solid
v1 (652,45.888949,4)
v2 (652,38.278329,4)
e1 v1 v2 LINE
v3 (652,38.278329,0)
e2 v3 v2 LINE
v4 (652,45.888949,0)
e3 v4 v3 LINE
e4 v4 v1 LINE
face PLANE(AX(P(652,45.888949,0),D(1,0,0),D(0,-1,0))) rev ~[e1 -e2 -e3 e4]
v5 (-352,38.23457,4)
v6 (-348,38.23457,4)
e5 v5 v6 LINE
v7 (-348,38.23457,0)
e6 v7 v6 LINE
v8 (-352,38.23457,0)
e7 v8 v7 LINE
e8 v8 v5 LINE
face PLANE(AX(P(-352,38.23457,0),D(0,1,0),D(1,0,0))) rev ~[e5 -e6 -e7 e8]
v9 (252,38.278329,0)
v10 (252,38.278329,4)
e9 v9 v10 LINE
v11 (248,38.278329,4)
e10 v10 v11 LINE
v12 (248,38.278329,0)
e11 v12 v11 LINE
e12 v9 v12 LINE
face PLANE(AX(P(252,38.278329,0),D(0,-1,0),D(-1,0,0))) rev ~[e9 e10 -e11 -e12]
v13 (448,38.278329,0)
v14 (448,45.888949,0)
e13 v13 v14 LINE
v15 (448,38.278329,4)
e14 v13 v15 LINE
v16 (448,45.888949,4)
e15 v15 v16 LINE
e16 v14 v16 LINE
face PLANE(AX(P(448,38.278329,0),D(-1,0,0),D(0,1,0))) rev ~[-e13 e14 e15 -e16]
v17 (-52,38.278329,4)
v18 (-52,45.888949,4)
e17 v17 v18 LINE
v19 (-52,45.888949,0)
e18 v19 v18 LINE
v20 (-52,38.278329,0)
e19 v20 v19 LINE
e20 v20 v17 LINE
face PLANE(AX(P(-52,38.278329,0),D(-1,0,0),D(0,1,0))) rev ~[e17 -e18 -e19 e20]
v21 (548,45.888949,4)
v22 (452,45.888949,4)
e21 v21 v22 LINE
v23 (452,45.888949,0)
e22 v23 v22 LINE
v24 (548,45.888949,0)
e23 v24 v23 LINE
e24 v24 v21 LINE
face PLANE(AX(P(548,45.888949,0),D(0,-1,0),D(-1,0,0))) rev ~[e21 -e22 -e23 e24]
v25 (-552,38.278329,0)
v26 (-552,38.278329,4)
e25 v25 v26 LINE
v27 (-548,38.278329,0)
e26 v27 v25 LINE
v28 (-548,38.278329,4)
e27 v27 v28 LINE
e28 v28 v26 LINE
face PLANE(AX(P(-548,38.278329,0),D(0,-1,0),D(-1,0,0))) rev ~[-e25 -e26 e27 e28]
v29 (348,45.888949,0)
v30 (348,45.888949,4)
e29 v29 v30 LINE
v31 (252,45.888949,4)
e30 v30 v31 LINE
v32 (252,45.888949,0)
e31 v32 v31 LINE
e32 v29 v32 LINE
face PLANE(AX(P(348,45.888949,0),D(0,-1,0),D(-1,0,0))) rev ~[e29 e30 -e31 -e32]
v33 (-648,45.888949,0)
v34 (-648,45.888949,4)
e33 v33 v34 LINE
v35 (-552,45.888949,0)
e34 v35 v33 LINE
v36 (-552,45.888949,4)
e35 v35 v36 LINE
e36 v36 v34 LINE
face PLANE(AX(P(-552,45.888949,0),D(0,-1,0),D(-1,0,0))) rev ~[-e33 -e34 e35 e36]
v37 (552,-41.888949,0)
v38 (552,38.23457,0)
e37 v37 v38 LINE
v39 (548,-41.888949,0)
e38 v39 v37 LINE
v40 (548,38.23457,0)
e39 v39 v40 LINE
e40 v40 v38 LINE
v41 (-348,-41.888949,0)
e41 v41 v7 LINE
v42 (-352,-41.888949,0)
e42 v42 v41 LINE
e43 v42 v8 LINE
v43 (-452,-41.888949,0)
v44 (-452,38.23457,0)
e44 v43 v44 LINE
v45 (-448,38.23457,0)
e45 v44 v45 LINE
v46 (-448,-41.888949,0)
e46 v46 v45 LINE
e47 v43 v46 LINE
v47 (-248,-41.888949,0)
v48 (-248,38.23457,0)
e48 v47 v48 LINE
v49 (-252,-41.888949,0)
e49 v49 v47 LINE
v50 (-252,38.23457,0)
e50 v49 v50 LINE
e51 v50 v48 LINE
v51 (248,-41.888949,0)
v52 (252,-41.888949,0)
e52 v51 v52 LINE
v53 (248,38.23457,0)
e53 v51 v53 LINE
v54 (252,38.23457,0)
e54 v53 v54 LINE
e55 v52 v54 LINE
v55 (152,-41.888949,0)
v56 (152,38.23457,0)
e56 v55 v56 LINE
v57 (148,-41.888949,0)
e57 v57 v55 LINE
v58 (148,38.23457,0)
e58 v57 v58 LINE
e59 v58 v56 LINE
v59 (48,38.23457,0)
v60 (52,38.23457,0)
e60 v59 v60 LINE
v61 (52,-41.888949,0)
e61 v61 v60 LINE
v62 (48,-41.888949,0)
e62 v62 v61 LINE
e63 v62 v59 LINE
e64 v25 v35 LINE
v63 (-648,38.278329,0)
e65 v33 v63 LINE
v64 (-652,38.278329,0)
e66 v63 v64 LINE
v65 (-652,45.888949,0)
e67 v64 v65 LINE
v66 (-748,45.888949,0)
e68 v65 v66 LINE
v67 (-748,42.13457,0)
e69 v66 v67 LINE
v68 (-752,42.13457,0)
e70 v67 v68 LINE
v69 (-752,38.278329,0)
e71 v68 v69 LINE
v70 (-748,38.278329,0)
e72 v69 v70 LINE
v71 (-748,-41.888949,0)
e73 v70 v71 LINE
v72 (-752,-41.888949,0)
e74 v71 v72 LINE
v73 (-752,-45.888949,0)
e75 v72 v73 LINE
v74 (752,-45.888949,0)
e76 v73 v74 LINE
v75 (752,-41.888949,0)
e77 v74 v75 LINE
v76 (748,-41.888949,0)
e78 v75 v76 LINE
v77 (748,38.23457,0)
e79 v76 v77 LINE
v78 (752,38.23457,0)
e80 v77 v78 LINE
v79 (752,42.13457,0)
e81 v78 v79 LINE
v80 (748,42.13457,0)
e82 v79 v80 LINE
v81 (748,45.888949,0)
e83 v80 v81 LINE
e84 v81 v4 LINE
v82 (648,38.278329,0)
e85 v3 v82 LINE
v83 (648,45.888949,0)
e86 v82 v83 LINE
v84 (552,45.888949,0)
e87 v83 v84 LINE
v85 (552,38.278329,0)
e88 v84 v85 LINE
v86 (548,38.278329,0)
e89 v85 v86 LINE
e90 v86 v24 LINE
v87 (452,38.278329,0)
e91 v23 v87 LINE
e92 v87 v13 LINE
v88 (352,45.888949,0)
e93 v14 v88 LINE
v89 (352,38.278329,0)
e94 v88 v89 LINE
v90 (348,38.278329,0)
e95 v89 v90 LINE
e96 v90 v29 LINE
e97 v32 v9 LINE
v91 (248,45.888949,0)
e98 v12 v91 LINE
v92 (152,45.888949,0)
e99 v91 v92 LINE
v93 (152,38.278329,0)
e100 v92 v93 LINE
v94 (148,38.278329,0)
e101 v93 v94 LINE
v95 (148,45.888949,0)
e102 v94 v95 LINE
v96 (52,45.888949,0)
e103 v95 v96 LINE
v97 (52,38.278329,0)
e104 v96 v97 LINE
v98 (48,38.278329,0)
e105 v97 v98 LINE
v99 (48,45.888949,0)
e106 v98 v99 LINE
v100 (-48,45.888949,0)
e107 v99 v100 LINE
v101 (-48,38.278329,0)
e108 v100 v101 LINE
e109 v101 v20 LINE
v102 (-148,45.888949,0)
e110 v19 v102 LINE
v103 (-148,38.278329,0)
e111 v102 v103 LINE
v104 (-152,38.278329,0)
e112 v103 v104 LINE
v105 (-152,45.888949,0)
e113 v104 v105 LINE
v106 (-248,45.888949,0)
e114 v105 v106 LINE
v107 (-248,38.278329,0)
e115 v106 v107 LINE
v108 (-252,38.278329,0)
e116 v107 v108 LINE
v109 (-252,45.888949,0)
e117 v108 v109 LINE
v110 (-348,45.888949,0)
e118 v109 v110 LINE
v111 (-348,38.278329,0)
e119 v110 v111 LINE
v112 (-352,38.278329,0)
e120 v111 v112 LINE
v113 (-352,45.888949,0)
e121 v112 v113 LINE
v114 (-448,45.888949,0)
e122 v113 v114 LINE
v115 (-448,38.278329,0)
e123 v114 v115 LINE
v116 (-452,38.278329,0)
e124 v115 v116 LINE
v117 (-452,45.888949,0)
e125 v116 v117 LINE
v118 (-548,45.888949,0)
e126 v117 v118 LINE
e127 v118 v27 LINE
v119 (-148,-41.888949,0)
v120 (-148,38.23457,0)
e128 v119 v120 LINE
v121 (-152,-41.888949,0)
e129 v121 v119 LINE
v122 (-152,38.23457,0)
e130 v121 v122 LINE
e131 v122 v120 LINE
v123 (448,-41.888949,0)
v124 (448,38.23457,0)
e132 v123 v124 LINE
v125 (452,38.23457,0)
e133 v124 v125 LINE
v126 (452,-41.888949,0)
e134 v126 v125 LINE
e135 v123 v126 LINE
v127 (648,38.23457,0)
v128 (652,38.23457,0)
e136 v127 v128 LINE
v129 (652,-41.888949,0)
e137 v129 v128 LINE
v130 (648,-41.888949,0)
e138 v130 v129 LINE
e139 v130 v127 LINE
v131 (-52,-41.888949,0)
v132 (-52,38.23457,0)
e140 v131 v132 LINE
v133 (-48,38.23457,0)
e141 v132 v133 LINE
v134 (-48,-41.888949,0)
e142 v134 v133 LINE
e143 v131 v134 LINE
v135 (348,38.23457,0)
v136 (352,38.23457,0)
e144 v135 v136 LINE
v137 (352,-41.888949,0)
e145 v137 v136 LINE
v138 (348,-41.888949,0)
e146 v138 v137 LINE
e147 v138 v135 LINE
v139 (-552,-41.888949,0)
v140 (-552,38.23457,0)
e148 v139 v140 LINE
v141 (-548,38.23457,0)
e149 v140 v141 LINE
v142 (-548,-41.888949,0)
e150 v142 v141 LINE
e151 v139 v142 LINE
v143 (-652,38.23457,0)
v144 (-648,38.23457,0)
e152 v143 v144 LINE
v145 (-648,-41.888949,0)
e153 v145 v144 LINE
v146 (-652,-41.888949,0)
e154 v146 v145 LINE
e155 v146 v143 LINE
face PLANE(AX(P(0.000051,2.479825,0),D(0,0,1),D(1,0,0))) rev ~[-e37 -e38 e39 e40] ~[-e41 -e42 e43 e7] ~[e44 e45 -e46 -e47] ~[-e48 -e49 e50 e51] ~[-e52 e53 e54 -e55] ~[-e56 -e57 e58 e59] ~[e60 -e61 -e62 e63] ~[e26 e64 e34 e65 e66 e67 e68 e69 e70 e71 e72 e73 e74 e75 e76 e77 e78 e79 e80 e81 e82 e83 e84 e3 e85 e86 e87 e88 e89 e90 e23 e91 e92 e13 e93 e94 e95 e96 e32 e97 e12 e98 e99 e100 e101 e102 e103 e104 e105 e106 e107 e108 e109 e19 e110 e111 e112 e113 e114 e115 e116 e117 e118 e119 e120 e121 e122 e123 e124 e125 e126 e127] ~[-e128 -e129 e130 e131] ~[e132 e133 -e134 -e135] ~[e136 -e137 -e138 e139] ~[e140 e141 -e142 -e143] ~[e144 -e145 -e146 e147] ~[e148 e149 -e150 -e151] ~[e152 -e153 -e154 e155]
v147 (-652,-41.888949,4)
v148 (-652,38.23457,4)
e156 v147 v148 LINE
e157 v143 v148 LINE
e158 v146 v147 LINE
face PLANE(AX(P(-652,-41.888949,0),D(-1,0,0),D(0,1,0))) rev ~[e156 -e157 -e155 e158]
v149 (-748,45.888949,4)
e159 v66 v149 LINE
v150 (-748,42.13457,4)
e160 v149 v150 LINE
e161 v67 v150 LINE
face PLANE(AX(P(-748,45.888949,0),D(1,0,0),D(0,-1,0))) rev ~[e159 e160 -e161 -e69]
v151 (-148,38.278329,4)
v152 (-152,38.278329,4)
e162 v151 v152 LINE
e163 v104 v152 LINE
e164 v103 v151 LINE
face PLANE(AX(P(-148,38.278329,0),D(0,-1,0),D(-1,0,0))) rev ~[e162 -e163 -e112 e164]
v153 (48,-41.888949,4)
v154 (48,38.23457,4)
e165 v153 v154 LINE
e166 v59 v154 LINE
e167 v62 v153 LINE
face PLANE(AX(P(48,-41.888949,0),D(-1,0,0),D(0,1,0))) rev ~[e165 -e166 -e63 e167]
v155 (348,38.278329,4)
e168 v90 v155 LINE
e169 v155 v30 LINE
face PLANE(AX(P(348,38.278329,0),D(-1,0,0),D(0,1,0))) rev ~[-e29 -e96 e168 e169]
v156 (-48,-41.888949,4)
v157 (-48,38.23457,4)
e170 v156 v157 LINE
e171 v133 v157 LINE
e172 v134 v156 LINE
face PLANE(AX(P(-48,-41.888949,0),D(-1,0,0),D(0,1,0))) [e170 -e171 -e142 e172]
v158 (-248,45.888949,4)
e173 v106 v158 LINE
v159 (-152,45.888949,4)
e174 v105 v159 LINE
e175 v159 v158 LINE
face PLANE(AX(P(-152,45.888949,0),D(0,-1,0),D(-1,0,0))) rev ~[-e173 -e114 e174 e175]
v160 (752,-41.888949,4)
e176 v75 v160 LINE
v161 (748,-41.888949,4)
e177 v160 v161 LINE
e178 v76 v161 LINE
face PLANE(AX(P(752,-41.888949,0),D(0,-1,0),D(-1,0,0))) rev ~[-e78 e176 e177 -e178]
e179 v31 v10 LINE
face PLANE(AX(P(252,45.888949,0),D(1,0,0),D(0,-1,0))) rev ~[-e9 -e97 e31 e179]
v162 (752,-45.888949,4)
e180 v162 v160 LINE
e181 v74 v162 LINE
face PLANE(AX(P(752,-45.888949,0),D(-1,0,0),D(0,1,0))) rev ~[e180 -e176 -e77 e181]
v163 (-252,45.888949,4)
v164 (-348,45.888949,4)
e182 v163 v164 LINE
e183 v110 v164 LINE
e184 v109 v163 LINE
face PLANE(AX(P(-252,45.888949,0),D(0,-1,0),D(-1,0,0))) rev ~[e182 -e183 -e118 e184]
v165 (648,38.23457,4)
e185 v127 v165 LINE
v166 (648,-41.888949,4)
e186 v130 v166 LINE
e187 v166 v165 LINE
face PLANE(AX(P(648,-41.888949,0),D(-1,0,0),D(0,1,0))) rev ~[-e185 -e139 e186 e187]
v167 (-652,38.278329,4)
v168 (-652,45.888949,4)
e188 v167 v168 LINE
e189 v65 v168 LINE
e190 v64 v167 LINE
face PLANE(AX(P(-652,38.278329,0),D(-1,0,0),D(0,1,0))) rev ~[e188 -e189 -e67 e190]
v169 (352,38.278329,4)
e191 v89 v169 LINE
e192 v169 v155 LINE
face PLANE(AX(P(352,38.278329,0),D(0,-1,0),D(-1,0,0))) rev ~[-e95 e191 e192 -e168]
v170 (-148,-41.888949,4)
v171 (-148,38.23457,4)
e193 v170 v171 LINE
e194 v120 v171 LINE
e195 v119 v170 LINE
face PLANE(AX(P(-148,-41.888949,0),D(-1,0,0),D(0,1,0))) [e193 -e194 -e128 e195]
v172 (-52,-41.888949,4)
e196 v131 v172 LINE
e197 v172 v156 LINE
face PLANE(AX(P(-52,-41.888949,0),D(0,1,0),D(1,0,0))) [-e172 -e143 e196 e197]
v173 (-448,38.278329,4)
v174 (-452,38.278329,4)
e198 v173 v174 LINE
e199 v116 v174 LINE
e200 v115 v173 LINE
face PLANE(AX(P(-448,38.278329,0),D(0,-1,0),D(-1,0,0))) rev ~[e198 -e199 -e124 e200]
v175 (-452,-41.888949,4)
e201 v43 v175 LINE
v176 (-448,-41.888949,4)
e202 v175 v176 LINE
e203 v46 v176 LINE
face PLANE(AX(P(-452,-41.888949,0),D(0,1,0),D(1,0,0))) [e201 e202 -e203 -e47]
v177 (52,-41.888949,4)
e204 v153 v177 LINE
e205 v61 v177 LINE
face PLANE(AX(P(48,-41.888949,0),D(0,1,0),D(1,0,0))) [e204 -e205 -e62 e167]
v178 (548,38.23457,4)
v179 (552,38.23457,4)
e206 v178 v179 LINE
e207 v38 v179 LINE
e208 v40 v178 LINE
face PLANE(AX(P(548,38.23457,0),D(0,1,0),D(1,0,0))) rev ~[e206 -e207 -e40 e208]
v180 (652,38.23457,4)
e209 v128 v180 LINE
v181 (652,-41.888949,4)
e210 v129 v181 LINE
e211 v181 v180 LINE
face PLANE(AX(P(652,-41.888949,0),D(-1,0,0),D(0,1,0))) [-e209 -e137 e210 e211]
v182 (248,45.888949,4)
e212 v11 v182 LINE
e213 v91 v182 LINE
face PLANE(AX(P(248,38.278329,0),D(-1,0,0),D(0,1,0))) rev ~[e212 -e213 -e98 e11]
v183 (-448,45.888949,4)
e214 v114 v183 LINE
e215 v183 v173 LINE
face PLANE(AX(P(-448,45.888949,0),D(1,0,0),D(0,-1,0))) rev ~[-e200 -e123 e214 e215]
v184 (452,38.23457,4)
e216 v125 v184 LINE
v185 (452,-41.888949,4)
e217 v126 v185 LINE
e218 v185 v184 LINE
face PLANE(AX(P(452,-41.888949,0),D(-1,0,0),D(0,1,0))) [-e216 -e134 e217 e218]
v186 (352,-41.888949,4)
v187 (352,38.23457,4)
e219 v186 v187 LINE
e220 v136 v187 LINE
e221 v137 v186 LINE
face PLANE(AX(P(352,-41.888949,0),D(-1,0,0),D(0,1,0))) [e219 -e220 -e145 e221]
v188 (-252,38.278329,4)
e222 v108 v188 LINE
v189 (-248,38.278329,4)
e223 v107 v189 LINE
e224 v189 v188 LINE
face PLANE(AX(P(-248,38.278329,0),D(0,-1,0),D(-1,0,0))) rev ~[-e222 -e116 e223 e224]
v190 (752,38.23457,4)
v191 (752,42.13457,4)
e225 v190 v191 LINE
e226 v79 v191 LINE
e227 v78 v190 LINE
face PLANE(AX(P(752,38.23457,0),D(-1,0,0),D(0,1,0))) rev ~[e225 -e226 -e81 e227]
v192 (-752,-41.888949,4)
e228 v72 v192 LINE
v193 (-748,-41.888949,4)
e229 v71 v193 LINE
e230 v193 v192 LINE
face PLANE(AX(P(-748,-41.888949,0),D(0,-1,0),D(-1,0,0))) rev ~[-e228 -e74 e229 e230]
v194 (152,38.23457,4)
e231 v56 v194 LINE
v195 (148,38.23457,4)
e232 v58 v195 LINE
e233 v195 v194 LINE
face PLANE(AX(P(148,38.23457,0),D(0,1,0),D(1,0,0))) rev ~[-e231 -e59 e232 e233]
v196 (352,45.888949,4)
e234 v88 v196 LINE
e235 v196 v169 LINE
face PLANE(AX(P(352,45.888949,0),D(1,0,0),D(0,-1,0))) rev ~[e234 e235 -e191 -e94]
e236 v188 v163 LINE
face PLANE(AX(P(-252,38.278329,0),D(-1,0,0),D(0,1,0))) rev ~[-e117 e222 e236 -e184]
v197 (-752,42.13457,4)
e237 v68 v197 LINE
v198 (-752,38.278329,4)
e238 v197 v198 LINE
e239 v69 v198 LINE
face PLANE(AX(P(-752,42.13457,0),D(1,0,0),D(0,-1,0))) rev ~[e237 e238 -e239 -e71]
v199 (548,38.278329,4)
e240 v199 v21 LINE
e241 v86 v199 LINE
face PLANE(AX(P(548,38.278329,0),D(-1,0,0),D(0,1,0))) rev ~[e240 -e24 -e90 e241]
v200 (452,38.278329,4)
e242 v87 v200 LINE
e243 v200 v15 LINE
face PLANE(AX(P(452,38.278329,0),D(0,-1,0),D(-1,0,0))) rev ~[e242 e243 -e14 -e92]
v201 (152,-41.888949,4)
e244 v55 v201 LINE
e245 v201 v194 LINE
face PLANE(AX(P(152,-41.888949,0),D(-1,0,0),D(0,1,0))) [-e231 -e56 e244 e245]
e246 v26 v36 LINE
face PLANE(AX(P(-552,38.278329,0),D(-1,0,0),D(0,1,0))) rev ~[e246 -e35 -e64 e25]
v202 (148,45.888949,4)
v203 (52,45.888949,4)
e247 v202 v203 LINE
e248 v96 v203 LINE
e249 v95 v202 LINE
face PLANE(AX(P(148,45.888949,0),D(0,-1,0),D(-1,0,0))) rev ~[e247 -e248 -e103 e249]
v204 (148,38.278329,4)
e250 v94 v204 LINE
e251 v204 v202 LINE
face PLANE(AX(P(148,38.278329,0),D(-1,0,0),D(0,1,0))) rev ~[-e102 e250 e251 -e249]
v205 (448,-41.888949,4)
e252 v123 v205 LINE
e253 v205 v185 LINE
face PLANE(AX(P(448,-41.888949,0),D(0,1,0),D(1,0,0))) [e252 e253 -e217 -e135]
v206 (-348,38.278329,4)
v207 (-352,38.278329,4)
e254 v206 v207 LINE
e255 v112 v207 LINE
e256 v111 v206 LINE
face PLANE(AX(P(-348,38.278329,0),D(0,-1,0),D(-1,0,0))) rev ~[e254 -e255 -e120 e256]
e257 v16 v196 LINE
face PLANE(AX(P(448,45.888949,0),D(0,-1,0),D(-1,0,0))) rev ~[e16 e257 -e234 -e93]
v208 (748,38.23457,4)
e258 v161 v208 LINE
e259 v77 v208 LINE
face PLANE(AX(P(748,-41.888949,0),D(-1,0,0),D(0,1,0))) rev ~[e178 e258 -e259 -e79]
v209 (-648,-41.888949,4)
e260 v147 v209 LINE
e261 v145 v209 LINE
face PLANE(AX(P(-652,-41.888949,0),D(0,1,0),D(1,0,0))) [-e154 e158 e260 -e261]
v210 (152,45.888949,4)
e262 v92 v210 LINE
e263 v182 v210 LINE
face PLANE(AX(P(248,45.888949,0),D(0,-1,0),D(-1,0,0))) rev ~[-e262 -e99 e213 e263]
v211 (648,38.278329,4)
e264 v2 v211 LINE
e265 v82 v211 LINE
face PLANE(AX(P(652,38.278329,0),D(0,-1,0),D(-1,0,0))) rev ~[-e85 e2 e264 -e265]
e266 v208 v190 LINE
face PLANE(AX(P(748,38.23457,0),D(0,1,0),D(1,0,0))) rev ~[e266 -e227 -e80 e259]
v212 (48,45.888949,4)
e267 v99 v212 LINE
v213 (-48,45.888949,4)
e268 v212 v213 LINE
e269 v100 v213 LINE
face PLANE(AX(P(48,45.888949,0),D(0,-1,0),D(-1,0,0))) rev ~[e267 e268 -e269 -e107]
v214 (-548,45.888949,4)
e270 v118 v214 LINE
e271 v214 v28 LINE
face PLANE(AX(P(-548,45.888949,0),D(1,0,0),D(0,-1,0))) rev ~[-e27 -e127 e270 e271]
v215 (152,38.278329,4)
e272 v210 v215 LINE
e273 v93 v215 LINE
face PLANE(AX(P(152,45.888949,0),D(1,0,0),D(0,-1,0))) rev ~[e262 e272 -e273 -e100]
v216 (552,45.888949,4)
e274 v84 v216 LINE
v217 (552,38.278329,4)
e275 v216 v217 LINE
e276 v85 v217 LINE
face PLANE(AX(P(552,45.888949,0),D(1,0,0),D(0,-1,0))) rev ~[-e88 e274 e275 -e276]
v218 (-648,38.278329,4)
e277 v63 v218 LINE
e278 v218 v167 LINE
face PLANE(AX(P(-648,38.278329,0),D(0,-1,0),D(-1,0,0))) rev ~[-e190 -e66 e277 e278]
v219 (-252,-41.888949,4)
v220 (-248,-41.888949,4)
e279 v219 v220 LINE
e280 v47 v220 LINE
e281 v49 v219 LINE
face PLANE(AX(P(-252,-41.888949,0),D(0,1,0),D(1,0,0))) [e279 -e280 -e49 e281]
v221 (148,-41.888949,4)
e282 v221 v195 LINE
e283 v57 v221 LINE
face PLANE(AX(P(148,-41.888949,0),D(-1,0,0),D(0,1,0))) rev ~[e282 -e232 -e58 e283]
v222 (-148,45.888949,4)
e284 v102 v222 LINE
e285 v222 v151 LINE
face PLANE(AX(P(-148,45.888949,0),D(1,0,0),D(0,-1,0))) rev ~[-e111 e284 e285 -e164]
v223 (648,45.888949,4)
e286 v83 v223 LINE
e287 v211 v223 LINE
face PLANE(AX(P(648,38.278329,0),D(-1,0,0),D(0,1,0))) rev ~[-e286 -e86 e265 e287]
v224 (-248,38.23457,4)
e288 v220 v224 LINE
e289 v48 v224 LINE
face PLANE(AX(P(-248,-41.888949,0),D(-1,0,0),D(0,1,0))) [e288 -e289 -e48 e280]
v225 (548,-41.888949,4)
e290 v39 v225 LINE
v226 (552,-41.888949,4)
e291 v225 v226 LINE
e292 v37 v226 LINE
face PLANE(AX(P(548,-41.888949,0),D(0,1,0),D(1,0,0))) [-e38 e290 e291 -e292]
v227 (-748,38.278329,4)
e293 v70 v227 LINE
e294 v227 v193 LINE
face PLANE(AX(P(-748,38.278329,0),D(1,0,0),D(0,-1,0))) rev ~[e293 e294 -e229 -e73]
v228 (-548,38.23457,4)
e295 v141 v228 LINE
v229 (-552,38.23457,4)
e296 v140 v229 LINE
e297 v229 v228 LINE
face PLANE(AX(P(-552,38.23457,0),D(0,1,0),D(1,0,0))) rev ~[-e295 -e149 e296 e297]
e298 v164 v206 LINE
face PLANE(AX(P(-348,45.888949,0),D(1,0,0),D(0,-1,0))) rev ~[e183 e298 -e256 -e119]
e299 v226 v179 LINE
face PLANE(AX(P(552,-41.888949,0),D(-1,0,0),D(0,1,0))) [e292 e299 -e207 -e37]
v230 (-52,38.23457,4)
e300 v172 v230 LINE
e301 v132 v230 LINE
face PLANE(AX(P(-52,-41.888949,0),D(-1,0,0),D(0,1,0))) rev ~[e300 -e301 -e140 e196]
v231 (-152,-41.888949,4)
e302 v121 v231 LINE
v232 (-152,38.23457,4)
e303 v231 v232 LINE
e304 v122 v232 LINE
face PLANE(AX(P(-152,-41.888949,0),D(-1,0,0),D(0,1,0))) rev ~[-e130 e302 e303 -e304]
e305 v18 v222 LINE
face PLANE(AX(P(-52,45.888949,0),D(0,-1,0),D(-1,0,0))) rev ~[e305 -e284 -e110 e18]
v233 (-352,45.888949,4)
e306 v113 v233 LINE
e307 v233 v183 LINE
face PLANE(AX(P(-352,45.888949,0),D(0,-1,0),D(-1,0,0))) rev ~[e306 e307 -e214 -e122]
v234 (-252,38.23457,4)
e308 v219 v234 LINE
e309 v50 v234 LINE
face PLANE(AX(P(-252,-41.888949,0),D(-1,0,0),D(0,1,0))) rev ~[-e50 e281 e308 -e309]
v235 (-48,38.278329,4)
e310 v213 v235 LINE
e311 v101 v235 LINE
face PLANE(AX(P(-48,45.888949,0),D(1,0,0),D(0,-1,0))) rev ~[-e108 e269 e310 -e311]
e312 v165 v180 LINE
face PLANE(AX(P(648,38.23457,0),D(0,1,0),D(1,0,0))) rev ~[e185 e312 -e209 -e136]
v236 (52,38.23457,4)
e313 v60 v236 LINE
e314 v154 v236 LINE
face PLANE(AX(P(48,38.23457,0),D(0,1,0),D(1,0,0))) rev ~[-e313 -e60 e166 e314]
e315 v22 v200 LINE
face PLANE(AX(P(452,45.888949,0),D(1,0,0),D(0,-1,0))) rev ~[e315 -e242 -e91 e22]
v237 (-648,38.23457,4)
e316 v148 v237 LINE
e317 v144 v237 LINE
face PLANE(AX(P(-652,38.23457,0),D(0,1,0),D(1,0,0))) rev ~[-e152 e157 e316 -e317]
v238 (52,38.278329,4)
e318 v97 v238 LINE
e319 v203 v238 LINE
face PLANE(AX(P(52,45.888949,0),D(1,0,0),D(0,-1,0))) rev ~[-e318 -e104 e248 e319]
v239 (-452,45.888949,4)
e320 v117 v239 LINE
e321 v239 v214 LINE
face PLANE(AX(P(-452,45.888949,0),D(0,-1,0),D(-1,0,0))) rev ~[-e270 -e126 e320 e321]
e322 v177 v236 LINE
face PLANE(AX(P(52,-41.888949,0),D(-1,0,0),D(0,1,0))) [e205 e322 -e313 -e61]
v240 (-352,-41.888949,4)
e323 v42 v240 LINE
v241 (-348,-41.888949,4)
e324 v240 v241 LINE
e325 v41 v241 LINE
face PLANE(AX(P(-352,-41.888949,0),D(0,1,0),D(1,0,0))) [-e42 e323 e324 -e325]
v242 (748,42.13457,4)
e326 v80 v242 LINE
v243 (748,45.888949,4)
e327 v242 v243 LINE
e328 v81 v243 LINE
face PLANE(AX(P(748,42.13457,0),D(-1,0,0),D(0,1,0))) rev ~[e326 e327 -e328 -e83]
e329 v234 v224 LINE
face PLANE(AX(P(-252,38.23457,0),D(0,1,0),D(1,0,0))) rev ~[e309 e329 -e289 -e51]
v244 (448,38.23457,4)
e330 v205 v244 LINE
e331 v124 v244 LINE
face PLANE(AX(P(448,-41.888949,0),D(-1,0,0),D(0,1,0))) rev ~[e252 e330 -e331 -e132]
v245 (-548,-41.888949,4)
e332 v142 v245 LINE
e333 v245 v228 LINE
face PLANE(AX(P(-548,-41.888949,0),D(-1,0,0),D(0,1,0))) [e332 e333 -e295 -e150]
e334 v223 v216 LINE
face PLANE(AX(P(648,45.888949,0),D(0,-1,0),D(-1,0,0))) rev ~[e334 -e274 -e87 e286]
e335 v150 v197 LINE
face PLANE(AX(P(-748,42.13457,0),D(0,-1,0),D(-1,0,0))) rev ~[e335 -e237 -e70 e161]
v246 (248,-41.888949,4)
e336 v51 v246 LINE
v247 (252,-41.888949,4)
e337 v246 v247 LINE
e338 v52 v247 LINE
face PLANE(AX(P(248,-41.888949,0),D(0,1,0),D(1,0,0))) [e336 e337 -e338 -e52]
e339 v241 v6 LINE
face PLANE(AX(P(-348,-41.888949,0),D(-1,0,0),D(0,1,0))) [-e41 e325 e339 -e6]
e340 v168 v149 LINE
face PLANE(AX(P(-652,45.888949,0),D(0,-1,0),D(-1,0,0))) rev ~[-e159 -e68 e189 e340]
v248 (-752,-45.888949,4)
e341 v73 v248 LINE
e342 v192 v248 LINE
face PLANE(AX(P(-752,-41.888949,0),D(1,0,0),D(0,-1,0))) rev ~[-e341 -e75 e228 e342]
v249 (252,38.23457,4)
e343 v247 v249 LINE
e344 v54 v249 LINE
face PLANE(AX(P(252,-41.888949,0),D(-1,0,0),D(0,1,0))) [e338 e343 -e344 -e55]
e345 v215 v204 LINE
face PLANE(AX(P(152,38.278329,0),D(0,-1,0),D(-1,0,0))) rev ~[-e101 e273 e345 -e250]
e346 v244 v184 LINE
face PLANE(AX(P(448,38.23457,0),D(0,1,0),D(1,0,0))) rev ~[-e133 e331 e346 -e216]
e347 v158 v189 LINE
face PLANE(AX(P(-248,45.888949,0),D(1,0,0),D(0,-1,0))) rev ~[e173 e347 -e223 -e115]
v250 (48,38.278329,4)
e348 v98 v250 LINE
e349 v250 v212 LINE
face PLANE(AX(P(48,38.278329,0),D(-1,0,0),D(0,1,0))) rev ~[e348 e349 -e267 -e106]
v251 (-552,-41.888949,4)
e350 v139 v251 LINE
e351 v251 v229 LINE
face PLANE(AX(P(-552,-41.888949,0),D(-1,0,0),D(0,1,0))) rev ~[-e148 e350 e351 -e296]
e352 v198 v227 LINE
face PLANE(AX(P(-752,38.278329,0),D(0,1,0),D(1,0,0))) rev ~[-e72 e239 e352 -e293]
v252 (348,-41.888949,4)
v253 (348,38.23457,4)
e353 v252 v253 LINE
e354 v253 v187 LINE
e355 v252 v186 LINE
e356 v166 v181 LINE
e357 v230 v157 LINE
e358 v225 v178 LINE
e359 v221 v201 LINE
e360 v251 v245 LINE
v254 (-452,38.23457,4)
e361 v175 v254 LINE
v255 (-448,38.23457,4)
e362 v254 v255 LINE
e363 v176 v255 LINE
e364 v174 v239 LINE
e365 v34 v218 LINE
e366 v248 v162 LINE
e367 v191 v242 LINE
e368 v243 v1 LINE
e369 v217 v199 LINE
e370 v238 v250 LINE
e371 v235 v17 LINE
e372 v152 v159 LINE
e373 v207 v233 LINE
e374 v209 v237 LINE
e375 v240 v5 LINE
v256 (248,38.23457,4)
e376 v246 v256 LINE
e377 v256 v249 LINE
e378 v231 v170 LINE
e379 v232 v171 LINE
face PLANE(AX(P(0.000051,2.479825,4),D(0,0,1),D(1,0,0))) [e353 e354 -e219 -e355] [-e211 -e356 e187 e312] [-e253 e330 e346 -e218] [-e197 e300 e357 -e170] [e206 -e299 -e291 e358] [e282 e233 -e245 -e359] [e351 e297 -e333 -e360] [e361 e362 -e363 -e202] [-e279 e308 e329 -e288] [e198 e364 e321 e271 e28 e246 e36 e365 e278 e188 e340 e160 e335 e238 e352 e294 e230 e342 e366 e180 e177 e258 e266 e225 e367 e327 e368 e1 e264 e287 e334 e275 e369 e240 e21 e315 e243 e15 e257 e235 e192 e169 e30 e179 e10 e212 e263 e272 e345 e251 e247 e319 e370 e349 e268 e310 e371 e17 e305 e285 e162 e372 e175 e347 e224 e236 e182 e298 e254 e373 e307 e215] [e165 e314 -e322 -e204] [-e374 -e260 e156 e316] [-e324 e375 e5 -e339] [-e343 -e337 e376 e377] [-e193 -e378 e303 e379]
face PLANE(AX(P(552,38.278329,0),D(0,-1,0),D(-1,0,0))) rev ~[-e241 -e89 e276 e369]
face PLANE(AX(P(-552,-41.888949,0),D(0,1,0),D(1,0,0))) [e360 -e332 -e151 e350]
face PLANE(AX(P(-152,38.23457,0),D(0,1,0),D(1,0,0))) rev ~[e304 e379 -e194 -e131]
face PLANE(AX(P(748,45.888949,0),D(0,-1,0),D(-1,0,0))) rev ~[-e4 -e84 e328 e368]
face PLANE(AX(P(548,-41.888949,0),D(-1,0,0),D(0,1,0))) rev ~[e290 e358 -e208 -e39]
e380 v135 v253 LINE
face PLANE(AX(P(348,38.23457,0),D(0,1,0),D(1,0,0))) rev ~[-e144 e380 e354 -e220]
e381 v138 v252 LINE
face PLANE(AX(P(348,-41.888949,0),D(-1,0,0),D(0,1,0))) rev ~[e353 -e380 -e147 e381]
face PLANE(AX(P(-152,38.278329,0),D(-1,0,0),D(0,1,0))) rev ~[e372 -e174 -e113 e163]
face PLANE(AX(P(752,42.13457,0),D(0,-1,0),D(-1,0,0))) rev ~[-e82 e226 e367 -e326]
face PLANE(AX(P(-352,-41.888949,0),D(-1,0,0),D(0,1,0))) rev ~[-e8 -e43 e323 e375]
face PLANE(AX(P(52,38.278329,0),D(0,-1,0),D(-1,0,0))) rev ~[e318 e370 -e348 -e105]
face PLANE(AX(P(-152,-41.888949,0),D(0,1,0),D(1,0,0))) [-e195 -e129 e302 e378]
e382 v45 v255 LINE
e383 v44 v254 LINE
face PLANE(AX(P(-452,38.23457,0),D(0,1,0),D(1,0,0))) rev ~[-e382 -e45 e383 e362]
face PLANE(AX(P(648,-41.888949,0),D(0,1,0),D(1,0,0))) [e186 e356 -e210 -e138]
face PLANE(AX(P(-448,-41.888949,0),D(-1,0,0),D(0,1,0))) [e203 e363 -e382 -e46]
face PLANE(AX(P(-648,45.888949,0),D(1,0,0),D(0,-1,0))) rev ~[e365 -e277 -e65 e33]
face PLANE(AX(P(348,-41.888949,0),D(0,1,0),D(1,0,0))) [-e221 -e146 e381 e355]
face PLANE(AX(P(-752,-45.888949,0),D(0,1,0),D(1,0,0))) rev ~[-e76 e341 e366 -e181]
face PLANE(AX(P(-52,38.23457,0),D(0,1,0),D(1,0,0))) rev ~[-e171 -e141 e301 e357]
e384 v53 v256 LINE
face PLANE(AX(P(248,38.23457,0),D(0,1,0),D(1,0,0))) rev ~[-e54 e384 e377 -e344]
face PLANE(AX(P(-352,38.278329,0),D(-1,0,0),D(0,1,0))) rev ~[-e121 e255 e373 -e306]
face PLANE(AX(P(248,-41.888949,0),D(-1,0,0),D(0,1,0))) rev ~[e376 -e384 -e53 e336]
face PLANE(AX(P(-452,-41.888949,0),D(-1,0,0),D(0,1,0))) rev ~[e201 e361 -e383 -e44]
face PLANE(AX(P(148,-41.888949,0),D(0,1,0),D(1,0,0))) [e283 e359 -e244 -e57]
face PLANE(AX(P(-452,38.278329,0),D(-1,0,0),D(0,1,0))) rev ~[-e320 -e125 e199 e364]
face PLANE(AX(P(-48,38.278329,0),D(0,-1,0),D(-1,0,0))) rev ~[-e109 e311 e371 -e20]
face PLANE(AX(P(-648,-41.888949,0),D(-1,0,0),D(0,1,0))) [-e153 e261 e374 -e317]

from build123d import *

# Parameters (mm, degrees)
SKETCH1_W           = 4
SKETCH1_H           = 80.123518492
BOSS_EXTRUDE1_DEPTH = 4


with BuildPart() as part:
    # Sketch1 → Boss-Extrude1 (new body)
    with BuildSketch(Plane.XY):
        Polygon((-652, 45.888948558), (-748, 45.888948558), (-748, 42.134569934), (-752, 42.134569934), (-752, 38.278329491), (-748, 38.278329491), (-748, -41.888948558), (-752, -41.888948558), (-752, -45.888948558), (752, -45.888948558), (752, -41.888948558), (748, -41.888948558), (748, 38.234569934), (752, 38.234569934), (752, 42.134569934), (748, 42.134569934), (748, 45.888948558), (652, 45.888948558), (652, 42.134569934), (652, 38.278329491), (648, 38.278329491), (648, 42.134569934), (648, 45.888948558), (552, 45.888948558), (552, 42.134569934), (552, 38.278329491), (548, 38.278329491), (548, 42.134569934), (548, 45.888948558), (452, 45.888948558), (452, 42.134569934), (452, 38.278329491), (448, 38.278329491), (448, 42.134569934), (448, 45.888948558), (352, 45.888948558), (352, 42.134569934), (352, 38.278329491), (348, 38.278329491), (348, 42.134569934), (348, 45.888948558), (252, 45.888948558), (252, 42.134569934), (252, 38.278329491), (248, 38.278329491), (248, 42.134569934), (248, 45.888948558), (152, 45.888948558), (152, 42.134569934), (152, 38.278329491), (148, 38.278329491), (148, 42.134569934), (148, 45.888948558), (52, 45.888948558), (52, 42.134569934), (52, 38.278329491), (48, 38.278329491), (48, 42.134569934), (48, 45.888948558), (-48, 45.888948558), (-48, 42.134569934), (-48, 38.278329491), (-52, 38.278329491), (-52, 42.134569934), (-52, 45.888948558), (-148, 45.888948558), (-148, 42.134569934), (-148, 38.278329491), (-152, 38.278329491), (-152, 42.134569934), (-152, 45.888948558), (-248, 45.888948558), (-248, 42.134569934), (-248, 38.278329491), (-252, 38.278329491), (-252, 42.134569934), (-252, 45.888948558), (-348, 45.888948558), (-348, 42.134569934), (-348, 38.278329491), (-352, 38.278329491), (-352, 42.134569934), (-352, 45.888948558), (-448, 45.888948558), (-448, 42.134569934), (-448, 38.278329491), (-452, 38.278329491), (-452, 42.134569934), (-452, 45.888948558), (-548, 45.888948558), (-548, 42.134569934), (-548, 38.278329491), (-552, 38.278329491), (-552, 42.134569934), (-552, 45.888948558), (-648, 45.888948558), (-648, 42.134569934), (-648, 38.278329491), (-652, 38.278329491), (-652, 42.134569934), align=None)
        with Locations((-650, -1.827189312)):
            Rectangle(SKETCH1_W, SKETCH1_H, mode=Mode.SUBTRACT)
        with Locations((-550, -1.827189312)):
            Rectangle(SKETCH1_W, SKETCH1_H, mode=Mode.SUBTRACT)
        with Locations((-450, -1.827189312)):
            Rectangle(SKETCH1_W, SKETCH1_H, mode=Mode.SUBTRACT)
        with Locations((-350, -1.827189312)):
            Rectangle(SKETCH1_W, SKETCH1_H, mode=Mode.SUBTRACT)
        with Locations((-250, -1.827189312)):
            Rectangle(SKETCH1_W, SKETCH1_H, mode=Mode.SUBTRACT)
        with Locations((-150, -1.827189312)):
            Rectangle(SKETCH1_W, SKETCH1_H, mode=Mode.SUBTRACT)
        with Locations((-50, -1.827189312)):
            Rectangle(SKETCH1_W, SKETCH1_H, mode=Mode.SUBTRACT)
        with Locations((50, -1.827189312)):
            Rectangle(SKETCH1_W, SKETCH1_H, mode=Mode.SUBTRACT)
        with Locations((150, -1.827189312)):
            Rectangle(SKETCH1_W, SKETCH1_H, mode=Mode.SUBTRACT)
        with Locations((250, -1.827189312)):
            Rectangle(SKETCH1_W, SKETCH1_H, mode=Mode.SUBTRACT)
        with Locations((350, -1.827189312)):
            Rectangle(SKETCH1_W, SKETCH1_H, mode=Mode.SUBTRACT)
        with Locations((450, -1.827189312)):
            Rectangle(SKETCH1_W, SKETCH1_H, mode=Mode.SUBTRACT)
        with Locations((550, -1.827189312)):
            Rectangle(SKETCH1_W, SKETCH1_H, mode=Mode.SUBTRACT)
        with Locations((650, -1.827189312)):
            Rectangle(SKETCH1_W, SKETCH1_H, mode=Mode.SUBTRACT)
    extrude(amount=BOSS_EXTRUDE1_DEPTH)


solid = part.part
